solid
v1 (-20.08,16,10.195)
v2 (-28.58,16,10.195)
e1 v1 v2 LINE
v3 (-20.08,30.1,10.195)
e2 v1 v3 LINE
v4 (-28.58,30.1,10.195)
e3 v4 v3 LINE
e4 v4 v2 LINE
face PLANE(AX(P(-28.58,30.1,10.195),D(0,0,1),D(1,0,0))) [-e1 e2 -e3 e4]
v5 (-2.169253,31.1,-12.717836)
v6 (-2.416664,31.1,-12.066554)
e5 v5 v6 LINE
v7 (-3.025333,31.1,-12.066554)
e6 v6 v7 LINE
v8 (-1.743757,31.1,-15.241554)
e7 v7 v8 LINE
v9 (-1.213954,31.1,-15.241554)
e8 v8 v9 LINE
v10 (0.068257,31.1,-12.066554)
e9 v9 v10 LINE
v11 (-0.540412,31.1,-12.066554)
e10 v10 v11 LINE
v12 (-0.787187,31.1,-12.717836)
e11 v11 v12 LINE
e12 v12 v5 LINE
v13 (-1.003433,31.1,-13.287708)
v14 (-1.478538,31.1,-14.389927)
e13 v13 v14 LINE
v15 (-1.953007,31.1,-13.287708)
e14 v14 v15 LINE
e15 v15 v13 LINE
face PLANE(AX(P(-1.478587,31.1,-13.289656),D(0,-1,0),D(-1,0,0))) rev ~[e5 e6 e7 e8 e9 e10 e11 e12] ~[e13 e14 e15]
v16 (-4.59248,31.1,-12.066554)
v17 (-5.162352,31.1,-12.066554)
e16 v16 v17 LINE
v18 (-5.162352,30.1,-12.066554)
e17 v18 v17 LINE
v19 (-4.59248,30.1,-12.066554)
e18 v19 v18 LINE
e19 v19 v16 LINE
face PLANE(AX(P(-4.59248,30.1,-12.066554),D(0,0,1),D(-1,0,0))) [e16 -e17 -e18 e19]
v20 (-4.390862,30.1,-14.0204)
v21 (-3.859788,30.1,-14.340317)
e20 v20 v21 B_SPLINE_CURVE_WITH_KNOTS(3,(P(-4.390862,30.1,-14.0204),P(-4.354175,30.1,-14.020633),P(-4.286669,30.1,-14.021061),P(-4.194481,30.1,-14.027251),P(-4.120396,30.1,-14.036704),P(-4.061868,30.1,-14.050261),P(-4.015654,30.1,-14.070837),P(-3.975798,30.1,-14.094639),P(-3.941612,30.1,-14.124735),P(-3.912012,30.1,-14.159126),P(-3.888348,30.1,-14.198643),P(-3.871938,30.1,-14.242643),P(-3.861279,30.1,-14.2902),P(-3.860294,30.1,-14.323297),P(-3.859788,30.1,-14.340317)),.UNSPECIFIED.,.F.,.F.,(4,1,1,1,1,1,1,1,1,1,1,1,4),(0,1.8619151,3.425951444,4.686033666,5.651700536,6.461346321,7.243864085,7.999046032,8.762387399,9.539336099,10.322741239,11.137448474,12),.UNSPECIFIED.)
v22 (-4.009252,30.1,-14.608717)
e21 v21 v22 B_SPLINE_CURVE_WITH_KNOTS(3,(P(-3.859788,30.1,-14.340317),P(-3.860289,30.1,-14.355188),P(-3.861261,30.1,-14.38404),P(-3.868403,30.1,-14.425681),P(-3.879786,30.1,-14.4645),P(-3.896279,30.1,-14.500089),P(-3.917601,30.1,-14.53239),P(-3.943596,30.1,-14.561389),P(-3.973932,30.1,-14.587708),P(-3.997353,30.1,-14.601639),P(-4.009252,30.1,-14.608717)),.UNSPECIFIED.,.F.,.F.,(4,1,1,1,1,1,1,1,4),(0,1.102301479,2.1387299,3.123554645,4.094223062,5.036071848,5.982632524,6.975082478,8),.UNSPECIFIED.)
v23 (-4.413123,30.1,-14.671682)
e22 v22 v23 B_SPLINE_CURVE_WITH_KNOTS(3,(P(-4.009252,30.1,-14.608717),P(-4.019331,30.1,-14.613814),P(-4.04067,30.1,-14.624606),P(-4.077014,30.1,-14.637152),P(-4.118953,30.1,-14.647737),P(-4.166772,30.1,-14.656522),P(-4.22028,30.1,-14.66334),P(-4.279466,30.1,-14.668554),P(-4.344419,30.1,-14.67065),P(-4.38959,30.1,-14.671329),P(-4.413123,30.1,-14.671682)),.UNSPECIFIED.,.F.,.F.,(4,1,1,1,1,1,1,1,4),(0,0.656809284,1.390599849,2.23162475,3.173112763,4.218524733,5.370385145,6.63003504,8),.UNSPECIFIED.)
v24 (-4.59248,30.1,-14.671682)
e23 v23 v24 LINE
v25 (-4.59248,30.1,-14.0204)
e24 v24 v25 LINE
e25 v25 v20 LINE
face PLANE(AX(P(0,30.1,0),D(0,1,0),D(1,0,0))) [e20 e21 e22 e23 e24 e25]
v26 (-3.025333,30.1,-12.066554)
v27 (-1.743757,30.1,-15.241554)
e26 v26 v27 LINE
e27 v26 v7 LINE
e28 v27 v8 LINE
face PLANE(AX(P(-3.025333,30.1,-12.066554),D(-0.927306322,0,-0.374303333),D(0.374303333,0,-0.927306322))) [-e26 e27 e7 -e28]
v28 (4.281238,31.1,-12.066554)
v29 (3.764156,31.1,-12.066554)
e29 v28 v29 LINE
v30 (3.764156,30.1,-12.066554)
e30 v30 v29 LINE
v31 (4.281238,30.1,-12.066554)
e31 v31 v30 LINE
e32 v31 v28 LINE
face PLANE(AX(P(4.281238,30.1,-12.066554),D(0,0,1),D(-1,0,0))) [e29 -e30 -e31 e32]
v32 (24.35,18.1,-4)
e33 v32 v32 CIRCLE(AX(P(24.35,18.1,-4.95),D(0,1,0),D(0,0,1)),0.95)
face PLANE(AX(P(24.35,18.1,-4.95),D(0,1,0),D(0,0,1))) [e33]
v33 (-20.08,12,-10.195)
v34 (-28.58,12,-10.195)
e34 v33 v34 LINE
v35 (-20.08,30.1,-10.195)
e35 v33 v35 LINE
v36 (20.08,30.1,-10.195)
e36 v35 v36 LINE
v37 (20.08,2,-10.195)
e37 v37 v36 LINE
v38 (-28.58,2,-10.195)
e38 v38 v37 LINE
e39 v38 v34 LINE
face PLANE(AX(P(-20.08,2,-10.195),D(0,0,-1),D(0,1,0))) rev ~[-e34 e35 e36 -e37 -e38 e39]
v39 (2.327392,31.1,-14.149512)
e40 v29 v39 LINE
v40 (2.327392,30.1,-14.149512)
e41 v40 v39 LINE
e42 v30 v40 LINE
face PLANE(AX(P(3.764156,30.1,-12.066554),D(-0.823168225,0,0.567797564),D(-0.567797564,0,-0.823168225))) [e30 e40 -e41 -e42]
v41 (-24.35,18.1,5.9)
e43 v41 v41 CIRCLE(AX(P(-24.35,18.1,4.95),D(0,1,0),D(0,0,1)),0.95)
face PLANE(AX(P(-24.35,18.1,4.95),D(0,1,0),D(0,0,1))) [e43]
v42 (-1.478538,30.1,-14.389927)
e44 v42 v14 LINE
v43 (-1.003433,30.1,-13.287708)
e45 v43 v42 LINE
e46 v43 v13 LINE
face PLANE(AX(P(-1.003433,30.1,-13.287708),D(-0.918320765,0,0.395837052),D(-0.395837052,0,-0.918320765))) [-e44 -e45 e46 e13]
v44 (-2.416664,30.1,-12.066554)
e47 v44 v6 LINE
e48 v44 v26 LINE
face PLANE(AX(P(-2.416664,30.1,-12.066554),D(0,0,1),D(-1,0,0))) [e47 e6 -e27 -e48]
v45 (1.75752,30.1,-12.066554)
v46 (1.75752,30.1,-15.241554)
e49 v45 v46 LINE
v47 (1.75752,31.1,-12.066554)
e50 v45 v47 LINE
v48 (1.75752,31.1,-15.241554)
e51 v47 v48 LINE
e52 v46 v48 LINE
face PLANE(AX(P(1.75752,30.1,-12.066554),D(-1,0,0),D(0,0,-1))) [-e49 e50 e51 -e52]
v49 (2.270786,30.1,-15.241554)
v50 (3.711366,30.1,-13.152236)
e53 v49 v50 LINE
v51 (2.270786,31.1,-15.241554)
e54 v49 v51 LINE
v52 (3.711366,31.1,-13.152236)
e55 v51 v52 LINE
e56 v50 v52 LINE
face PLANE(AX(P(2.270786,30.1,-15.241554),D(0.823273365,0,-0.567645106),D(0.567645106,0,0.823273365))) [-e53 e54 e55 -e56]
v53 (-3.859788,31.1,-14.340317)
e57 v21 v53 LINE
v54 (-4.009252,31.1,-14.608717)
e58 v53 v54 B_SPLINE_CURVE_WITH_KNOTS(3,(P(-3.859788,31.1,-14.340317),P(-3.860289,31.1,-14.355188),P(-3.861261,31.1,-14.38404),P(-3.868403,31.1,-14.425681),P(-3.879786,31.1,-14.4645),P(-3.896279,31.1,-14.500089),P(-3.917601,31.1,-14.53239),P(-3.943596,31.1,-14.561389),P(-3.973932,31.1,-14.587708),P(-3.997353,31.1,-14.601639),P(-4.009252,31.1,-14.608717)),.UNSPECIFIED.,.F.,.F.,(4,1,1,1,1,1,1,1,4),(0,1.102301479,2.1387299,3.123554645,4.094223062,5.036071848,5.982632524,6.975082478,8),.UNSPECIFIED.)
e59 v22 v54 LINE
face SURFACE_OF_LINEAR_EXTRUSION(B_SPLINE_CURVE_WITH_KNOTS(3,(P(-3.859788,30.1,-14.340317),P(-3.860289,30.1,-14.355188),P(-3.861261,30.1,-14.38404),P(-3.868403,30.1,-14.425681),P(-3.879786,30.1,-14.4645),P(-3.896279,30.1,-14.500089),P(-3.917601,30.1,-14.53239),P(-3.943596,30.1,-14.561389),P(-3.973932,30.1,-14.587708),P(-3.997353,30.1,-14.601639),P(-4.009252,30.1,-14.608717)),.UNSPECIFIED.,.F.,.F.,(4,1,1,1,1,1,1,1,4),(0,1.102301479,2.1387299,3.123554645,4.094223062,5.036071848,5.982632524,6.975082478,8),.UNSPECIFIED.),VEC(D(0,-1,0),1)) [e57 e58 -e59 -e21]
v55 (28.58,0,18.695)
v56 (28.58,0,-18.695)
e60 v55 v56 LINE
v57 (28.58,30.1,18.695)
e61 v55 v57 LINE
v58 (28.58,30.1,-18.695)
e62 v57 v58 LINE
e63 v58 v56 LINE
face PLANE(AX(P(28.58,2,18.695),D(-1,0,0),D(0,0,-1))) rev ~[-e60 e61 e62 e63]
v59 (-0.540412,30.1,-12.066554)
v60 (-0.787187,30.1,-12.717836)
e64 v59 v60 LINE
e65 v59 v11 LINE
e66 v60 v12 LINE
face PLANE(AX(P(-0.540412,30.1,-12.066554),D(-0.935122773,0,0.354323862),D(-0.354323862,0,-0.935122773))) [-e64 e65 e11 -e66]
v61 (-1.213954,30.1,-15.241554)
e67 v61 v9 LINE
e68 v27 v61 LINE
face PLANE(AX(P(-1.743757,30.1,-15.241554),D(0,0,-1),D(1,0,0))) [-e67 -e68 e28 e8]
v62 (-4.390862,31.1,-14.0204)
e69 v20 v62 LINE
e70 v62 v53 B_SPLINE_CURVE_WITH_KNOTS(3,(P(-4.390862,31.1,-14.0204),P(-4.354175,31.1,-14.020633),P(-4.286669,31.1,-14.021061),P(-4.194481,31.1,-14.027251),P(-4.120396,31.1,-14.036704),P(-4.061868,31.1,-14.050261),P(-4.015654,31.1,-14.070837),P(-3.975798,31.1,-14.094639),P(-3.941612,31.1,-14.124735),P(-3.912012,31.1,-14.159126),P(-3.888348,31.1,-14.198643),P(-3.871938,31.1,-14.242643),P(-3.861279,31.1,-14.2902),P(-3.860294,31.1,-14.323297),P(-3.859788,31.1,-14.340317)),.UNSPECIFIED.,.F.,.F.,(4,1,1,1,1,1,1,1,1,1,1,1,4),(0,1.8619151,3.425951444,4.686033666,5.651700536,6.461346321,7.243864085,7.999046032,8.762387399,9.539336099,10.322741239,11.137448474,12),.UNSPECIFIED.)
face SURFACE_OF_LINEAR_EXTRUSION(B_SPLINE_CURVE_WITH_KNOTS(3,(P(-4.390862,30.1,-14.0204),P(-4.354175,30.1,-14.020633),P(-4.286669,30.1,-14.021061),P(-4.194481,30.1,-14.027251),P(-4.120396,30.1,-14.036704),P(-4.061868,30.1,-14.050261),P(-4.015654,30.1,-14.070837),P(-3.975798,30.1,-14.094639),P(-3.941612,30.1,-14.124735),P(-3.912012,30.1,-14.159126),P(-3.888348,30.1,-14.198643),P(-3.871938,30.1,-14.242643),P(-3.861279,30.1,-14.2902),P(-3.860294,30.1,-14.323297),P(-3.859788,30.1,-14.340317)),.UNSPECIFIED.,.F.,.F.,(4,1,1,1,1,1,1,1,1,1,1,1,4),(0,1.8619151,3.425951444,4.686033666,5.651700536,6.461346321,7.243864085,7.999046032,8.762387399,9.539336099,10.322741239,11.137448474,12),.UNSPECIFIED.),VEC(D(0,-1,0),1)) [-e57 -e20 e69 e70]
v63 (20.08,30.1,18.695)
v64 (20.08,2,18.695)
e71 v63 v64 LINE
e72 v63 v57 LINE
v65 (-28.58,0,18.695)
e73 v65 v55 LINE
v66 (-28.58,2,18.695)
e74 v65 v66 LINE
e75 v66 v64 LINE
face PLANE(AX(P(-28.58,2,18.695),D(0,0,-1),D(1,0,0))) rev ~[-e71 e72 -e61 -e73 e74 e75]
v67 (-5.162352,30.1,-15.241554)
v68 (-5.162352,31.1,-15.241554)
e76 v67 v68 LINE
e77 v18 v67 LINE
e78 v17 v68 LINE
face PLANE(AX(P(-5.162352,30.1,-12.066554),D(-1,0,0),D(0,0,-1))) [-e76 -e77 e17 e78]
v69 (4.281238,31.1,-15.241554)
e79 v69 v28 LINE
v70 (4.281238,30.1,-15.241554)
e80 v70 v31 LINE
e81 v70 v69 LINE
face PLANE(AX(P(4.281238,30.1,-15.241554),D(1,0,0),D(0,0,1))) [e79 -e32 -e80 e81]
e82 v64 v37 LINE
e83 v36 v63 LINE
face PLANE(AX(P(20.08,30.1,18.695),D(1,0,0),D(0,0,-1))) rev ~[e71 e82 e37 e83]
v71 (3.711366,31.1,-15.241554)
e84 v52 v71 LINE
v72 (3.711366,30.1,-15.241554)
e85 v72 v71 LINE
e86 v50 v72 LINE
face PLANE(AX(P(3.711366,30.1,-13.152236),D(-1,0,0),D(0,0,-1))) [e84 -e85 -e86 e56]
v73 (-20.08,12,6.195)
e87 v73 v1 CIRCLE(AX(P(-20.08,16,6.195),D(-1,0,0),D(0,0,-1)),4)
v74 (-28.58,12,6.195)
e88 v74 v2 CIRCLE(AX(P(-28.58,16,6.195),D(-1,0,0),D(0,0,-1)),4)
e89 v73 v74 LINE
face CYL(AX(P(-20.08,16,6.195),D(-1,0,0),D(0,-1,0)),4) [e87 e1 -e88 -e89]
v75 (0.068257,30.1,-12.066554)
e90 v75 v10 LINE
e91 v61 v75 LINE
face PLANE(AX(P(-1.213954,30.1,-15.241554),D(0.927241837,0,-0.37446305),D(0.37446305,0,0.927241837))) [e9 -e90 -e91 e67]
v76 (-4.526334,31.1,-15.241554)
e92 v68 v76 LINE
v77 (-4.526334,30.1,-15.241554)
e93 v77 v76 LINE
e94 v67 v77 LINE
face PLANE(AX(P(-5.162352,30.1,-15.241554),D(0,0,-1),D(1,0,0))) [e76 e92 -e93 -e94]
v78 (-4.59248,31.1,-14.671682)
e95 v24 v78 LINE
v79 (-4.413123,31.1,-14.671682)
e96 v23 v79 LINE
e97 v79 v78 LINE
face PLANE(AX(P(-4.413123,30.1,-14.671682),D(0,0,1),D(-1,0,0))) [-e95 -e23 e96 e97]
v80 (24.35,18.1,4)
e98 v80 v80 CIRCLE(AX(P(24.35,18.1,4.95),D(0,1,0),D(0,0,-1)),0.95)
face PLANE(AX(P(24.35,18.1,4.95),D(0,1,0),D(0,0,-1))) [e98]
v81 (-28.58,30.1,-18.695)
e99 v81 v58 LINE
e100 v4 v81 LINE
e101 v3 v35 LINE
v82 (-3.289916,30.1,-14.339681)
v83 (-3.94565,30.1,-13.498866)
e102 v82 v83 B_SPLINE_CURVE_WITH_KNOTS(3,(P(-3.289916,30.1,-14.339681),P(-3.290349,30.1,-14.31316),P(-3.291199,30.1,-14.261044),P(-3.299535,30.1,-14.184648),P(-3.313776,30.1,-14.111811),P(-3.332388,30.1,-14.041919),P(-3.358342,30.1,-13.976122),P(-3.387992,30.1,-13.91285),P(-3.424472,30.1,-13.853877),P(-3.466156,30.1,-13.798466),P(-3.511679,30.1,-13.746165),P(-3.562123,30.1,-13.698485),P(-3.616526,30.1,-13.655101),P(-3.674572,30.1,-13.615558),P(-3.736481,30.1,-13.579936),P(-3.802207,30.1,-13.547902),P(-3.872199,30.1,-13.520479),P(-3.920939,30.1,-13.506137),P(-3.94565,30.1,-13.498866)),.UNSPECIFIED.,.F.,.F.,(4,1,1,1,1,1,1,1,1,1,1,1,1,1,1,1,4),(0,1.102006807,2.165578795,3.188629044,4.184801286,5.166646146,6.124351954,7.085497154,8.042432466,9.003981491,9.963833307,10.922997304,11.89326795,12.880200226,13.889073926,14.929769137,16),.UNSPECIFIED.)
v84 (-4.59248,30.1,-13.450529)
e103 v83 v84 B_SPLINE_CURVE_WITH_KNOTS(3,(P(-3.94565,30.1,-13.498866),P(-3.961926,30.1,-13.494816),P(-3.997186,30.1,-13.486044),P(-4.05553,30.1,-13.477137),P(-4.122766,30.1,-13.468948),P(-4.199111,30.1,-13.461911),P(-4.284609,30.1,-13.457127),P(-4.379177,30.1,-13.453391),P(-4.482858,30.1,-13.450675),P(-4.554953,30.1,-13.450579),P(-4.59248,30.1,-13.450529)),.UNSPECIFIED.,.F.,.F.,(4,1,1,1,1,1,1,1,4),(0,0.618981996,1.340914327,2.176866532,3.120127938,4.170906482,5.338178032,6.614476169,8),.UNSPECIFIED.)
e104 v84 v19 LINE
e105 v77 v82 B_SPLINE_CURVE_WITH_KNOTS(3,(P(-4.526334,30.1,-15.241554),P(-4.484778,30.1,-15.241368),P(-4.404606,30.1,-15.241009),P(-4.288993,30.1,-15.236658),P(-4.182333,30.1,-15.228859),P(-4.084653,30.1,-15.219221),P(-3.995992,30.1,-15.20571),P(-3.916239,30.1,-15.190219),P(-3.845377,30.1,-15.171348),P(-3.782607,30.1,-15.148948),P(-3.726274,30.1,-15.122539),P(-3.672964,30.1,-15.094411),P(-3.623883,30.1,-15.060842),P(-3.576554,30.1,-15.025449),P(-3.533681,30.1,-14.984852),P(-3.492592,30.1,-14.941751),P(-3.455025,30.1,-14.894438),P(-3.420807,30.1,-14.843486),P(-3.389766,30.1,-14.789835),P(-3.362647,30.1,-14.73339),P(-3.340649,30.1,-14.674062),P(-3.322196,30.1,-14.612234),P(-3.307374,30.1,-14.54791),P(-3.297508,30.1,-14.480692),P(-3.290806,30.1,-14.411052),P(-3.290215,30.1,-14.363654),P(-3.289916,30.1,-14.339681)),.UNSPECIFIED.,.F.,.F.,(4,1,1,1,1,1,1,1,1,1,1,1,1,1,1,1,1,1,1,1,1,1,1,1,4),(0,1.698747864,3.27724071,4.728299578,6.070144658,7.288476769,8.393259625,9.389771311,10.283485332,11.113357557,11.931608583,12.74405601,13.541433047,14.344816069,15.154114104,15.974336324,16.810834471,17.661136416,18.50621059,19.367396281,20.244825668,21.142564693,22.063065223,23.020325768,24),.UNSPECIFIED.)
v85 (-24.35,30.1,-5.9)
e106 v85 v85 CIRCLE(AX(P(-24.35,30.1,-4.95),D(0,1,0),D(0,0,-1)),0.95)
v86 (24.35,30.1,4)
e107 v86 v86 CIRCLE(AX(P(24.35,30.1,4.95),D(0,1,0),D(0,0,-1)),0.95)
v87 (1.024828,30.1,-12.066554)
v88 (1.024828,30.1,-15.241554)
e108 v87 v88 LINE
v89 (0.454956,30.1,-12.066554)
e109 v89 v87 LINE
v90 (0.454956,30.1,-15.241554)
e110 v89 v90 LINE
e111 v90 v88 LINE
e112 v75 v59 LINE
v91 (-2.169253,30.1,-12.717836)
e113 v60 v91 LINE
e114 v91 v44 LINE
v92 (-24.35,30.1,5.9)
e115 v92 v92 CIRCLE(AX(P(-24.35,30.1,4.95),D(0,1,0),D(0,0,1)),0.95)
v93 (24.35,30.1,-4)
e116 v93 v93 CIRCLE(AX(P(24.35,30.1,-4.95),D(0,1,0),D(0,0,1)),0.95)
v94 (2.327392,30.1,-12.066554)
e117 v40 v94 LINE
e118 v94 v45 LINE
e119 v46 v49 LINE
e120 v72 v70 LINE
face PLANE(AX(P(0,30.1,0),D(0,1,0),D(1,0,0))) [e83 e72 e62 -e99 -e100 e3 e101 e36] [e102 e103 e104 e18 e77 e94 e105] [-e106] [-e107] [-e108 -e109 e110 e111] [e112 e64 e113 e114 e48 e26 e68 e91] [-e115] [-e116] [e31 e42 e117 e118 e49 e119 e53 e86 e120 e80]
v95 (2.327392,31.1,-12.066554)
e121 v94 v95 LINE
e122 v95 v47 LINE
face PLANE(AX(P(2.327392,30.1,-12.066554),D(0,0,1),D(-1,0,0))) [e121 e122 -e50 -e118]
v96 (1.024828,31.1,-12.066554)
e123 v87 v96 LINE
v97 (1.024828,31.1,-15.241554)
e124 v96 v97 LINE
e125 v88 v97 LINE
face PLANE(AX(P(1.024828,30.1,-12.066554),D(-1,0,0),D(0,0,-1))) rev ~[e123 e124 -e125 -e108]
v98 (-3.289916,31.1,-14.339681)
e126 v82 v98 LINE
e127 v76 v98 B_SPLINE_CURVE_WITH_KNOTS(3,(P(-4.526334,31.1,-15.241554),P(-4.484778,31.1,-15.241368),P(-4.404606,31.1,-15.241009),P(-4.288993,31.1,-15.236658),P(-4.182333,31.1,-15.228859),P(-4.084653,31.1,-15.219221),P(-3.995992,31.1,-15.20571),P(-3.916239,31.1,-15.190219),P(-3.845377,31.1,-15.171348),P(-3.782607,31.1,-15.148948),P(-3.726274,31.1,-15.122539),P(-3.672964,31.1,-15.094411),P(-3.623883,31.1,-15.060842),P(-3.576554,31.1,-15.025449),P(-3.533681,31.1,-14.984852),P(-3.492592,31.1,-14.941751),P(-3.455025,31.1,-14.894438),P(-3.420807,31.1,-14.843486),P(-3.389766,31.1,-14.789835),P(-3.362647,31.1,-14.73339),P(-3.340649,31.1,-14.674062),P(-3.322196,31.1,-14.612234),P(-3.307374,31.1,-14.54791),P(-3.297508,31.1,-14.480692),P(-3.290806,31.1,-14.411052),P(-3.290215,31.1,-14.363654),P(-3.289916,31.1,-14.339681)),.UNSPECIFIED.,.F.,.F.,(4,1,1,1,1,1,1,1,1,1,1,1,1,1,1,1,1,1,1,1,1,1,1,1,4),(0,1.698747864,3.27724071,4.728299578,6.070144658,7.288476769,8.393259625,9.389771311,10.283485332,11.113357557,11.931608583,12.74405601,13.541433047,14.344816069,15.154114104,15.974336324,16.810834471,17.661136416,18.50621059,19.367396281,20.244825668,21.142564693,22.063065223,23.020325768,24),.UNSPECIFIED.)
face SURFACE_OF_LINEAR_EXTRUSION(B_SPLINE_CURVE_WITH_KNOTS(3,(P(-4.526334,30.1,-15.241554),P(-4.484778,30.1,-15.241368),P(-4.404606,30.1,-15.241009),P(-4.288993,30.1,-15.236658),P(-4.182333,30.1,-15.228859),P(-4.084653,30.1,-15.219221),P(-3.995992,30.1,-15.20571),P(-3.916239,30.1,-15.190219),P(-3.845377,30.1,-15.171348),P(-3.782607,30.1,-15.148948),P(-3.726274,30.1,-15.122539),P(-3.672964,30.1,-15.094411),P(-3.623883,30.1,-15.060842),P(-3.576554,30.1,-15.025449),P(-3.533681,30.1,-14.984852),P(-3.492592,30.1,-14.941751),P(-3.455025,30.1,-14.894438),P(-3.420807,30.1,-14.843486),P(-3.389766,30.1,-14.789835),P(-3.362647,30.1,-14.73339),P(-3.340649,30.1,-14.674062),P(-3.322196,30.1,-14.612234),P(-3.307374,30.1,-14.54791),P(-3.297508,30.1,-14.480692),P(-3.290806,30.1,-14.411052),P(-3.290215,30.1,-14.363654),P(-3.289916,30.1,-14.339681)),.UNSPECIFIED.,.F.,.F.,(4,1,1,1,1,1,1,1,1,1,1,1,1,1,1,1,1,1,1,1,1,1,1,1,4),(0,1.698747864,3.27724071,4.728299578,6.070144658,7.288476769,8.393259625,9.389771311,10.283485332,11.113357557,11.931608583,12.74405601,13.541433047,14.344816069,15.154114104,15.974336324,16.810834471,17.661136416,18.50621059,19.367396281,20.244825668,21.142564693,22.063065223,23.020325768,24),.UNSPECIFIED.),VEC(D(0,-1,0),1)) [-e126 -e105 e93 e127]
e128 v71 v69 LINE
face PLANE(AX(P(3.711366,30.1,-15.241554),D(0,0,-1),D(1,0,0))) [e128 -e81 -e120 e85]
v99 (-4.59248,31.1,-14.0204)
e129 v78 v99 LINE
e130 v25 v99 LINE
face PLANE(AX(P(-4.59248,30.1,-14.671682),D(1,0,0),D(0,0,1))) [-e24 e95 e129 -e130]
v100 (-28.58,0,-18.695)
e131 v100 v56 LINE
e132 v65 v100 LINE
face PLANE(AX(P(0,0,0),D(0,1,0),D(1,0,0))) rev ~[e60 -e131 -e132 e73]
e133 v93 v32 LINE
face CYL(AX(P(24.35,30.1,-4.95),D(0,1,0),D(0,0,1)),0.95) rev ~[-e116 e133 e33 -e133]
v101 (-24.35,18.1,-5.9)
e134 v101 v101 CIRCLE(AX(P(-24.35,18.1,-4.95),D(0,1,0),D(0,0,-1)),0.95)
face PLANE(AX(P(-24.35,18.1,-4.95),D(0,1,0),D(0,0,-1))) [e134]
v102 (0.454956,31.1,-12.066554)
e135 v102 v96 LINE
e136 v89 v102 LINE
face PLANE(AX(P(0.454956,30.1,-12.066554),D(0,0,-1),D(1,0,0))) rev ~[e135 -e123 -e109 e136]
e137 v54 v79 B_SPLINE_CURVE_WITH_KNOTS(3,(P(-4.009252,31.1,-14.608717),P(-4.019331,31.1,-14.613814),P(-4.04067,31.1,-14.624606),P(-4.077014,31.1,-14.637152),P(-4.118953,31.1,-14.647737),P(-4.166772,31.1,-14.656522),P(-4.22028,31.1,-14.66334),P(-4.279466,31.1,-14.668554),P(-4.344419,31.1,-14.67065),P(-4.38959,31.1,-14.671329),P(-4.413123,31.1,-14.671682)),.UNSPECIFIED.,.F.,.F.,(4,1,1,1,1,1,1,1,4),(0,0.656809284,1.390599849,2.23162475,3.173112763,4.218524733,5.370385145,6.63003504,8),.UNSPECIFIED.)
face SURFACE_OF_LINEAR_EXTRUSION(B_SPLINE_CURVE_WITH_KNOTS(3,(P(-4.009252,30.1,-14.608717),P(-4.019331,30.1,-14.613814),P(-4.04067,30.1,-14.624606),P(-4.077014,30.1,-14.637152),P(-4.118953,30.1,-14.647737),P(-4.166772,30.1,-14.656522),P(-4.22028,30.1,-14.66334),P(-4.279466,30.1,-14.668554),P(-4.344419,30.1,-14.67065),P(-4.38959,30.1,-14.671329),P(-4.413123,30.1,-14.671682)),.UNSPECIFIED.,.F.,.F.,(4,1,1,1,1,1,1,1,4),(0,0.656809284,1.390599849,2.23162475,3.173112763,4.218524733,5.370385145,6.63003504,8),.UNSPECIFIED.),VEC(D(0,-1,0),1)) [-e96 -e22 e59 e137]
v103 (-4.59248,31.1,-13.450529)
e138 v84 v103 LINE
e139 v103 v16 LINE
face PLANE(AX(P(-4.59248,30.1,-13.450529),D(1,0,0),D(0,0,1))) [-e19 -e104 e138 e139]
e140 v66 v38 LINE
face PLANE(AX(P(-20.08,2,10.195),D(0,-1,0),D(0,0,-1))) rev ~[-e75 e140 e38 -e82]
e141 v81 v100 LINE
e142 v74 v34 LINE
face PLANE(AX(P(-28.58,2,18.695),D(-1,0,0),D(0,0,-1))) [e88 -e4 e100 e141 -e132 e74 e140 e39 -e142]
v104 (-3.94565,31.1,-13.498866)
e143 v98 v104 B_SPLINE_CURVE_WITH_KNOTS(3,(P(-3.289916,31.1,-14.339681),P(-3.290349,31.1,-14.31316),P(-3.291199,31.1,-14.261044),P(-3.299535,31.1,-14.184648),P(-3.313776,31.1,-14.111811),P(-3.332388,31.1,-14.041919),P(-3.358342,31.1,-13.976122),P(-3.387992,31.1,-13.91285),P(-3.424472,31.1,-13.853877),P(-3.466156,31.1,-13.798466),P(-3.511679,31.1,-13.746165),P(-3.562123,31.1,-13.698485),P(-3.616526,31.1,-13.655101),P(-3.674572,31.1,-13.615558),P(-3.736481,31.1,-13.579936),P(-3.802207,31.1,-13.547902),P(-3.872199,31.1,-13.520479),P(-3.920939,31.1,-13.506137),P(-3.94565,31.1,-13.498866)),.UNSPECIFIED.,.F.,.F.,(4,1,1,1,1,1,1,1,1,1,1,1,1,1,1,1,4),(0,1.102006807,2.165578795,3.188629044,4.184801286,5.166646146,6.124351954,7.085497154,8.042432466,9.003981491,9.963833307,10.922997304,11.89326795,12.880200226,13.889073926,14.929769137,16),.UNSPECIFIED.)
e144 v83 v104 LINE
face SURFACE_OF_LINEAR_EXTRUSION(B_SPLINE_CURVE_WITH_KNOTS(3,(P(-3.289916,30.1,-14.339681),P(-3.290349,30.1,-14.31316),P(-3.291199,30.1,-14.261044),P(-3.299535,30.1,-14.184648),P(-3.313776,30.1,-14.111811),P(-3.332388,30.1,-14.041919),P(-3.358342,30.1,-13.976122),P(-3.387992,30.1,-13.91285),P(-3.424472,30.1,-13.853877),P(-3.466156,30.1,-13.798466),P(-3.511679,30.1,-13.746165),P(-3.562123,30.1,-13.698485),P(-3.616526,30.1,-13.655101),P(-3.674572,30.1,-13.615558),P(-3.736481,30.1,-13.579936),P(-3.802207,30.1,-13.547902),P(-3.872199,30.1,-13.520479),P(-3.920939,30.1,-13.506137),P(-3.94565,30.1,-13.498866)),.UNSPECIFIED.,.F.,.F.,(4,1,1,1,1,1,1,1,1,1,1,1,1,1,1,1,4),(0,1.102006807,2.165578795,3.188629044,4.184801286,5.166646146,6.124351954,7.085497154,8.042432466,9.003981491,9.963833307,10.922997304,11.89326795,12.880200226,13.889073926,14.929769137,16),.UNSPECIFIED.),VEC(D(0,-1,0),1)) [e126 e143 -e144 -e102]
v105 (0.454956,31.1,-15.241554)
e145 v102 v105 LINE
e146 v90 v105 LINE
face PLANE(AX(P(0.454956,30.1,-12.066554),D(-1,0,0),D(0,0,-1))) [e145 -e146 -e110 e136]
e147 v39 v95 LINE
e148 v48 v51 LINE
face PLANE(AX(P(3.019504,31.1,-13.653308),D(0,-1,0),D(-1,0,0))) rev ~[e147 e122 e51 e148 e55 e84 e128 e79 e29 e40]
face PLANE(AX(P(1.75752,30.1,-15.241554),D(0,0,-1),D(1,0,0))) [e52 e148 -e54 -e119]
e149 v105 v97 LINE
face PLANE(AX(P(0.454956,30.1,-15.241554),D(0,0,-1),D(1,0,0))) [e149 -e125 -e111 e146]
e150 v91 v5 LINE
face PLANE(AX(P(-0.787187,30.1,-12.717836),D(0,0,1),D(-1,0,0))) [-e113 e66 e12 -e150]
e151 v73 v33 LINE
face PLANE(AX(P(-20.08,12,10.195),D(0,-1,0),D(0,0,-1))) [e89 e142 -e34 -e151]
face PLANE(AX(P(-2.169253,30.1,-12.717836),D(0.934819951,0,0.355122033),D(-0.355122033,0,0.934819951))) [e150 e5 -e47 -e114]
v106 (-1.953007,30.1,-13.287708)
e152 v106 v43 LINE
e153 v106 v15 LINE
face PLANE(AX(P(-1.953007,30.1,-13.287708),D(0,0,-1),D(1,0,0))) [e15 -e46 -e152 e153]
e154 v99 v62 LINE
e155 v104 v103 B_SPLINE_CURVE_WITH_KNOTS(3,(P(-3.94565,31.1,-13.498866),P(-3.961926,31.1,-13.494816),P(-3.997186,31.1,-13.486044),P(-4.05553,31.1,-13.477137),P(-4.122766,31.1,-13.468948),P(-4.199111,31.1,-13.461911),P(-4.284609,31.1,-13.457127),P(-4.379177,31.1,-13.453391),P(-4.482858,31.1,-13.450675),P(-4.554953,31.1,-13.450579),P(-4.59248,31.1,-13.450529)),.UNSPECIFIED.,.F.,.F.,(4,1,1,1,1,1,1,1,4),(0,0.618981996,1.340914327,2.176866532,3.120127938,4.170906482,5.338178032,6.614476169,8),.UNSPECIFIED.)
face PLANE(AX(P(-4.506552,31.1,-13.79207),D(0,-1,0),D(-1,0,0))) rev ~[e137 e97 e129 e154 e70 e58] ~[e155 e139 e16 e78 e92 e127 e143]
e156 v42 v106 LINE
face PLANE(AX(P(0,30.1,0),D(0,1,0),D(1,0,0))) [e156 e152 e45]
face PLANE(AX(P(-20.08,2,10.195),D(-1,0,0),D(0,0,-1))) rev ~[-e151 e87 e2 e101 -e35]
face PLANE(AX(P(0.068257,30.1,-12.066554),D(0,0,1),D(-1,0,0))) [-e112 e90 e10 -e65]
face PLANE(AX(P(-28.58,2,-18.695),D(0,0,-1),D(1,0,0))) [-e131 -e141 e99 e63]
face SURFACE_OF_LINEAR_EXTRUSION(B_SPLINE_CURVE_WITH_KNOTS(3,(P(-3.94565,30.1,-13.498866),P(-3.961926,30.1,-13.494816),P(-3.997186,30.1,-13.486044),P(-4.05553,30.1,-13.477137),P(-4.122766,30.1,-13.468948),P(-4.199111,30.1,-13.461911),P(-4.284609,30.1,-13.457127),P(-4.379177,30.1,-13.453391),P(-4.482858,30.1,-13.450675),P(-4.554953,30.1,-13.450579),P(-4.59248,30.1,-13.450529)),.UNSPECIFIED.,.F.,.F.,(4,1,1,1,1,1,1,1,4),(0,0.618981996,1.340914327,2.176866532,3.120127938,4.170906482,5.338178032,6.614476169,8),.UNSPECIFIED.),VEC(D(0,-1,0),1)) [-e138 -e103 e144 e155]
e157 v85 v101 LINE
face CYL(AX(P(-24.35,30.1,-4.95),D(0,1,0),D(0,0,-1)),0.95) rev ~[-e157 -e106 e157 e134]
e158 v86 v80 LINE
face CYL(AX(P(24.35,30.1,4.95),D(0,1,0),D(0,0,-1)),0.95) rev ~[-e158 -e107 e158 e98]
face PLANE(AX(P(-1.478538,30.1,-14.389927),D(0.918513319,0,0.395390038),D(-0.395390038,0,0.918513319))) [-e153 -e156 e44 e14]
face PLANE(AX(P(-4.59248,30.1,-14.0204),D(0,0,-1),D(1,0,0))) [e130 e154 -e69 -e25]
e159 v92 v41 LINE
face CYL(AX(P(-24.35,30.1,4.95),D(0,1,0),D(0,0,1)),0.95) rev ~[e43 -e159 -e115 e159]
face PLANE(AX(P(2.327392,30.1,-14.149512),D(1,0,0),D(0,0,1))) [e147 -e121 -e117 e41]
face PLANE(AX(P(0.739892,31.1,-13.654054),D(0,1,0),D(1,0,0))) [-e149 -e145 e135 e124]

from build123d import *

# Parameters (mm, degrees)
SKETCH1_W           = 57.16
SKETCH1_H           = 37.39
SKETCH1_W_2         = 40.16
SKETCH1_H_2         = 20.39
BOSS_EXTRUDE1_DEPTH = 2
SKETCH2_W           = 57.16
SKETCH2_H           = 37.39
SKETCH2_W_2         = 40.16
SKETCH2_H_2         = 20.39
BOSS_EXTRUDE2_DEPTH = 28.1
SKETCH3_W           = 48.66
SKETCH3_H           = 8.5
CUT_EXTRUDE1_DEPTH  = 28.1
CUT_EXTRUDE2_REACH  = 62.194
SKETCH5_W           = 20.39
SKETCH5_H           = 10
FILLET1_R           = 4
SKETCH6_R           = 0.95
CUT_EXTRUDE3_DEPTH  = 12
SKETCH7_W           = 0.569871794
SKETCH7_H           = 3.175
BOSS_EXTRUDE3_DEPTH = 1


with BuildPart() as part:
    # Sketch1 → Boss-Extrude1 (new body)
    # profile 1 of 2: a face of its own
    with BuildSketch(Plane(origin=(0, 0, 0), x_dir=(1, 0, 0), z_dir=(0, 1, 0))):
        Rectangle(SKETCH1_W, SKETCH1_H)
        Rectangle(SKETCH1_W_2, SKETCH1_H_2, mode=Mode.SUBTRACT)
    # profile 2 of 2: a face of its own
    with BuildSketch(Plane(origin=(0, 0, 0), x_dir=(1, 0, 0), z_dir=(0, 1, 0))):
        Rectangle(SKETCH1_W_2, SKETCH1_H_2)
    extrude(amount=BOSS_EXTRUDE1_DEPTH)

    # Sketch2 → Boss-Extrude2 (add)
    with BuildSketch(Plane(origin=(0, 2, 0), x_dir=(1, 0, 0), z_dir=(0, 1, 0))):
        Rectangle(SKETCH2_W, SKETCH2_H)
        Rectangle(SKETCH2_W_2, SKETCH2_H_2, mode=Mode.SUBTRACT)
    extrude(amount=BOSS_EXTRUDE2_DEPTH)

    # Sketch3 → Cut-Extrude1 (cut)
    with BuildSketch(Plane(origin=(0, 30.1, 0), x_dir=(1, 0, 0), z_dir=(0, 1, 0))):
        with Locations((-4.25, -14.445)):
            Rectangle(SKETCH3_W, SKETCH3_H)
    extrude(amount=-CUT_EXTRUDE1_DEPTH, mode=Mode.SUBTRACT)

    # Sketch5 → Cut-Extrude2 (cut, up to next)
    with BuildSketch(Plane(origin=(-20.08, 0, 0), x_dir=(0, 0, -1), z_dir=(1, 0, 0)), mode=Mode.PRIVATE) as cut_extrude2_sk1:
        with Locations((0, 7)):
            Rectangle(SKETCH5_W, SKETCH5_H)
    cut_extrude2_tool1 = extrude(cut_extrude2_sk1.sketch, amount=-CUT_EXTRUDE2_REACH, mode=Mode.PRIVATE) & part.part
    add(cut_extrude2_tool1.solids().sort_by_distance((-20.08, 7, 0))[0], mode=Mode.SUBTRACT)

    # Fillet1
    fillet1_edges = [part.edges().sort_by_distance(p)[0] for p in [
        (-24.33, 12, 10.195),
    ]]
    fillet(fillet1_edges, radius=FILLET1_R)

    # Sketch6 → Cut-Extrude3 (cut)
    with BuildSketch(Plane(origin=(0, 30.1, 0), x_dir=(1, 0, 0), z_dir=(0, 1, 0))):
        with Locations(Location((-24.35, -4.95, 0), (0, 0, 270))):
            Circle(SKETCH6_R)
        with Locations(Location((-24.35, 4.95, 0), (0, 0, 90))):
            Circle(SKETCH6_R)
        with Locations(Location((24.35, 4.95, 0), (0, 0, 270))):
            Circle(SKETCH6_R)
        with Locations(Location((24.35, -4.95, 0), (0, 0, 90))):
            Circle(SKETCH6_R)
    extrude(amount=-CUT_EXTRUDE3_DEPTH, mode=Mode.SUBTRACT)

    # Sketch7 → Boss-Extrude3 (add)
    # profile 1 of 4: a face of its own
    with BuildSketch(Plane(origin=(0, 30.1, 0), x_dir=(1, 0, 0), z_dir=(0, 1, 0))):
        with BuildLine():
            Line((-5.16235185, 15.241554144), (-4.526334221, 15.241554144))
            add(Edge.make_bspline(
                [(-4.526334221, 15.241554144), (-4.484777655, 15.241368128), (-4.404606327, 15.241009264), (-4.288992676, 15.236657561), (-4.182333422, 15.228859045), (-4.08465307, 15.219221313), (-3.995991784, 15.205709587), (-3.916238533, 15.190219451), (-3.845376767, 15.171347958), (-3.782607413, 15.148947756), (-3.726273946, 15.122538794), (-3.672964317, 15.094411364), (-3.623883329, 15.060842269), (-3.576553717, 15.025449442), (-3.533681396, 14.984851821), (-3.492591735, 14.941751237), (-3.455024992, 14.894438355), (-3.420807097, 14.843485885), (-3.389766194, 14.789835212), (-3.362646785, 14.733390423), (-3.340649039, 14.6740622), (-3.322195665, 14.612234331), (-3.307373735, 14.547909509), (-3.297507787, 14.48069213), (-3.290806339, 14.411051534), (-3.290215029, 14.363654099), (-3.289915952, 14.339681147)],
                knots=[0, 0, 0, 0, 1.698747864, 3.27724071, 4.728299578, 6.070144658, 7.288476769, 8.393259625, 9.389771311, 10.283485332, 11.113357557, 11.931608583, 12.74405601, 13.541433047, 14.344816069, 15.154114104, 15.974336324, 16.810834471, 17.661136416, 18.50621059, 19.367396281, 20.244825668, 21.142564693, 22.063065223, 23.020325768, 24, 24, 24, 24], degree=3))
            add(Edge.make_bspline(
                [(-3.289915952, 14.339681147), (-3.290348678, 14.313160441), (-3.291199038, 14.261043994), (-3.299535306, 14.184647677), (-3.313776285, 14.111810705), (-3.332388499, 14.041918832), (-3.358341909, 13.976121933), (-3.38799246, 13.912850075), (-3.424472043, 13.853877205), (-3.466155799, 13.798465646), (-3.511679216, 13.746164873), (-3.562123017, 13.698484974), (-3.616525724, 13.655100917), (-3.674572416, 13.615558031), (-3.73648102, 13.579936086), (-3.802206865, 13.547901518), (-3.872198765, 13.520478893), (-3.920939018, 13.506137082), (-3.945650127, 13.498865843)],
                knots=[0, 0, 0, 0, 1.102006807, 2.165578795, 3.188629044, 4.184801286, 5.166646146, 6.124351954, 7.085497154, 8.042432466, 9.003981491, 9.963833307, 10.922997304, 11.89326795, 12.880200226, 13.889073926, 14.929769137, 16, 16, 16, 16], degree=3))
            add(Edge.make_bspline(
                [(-3.945650127, 13.498865843), (-3.961926284, 13.494816308), (-3.997185683, 13.486043713), (-4.055530303, 13.477137327), (-4.122766351, 13.468948452), (-4.199111247, 13.461911106), (-4.284609004, 13.45712735), (-4.379176838, 13.45339145), (-4.482857606, 13.450675064), (-4.554953112, 13.450578675), (-4.592480055, 13.450528503)],
                knots=[0, 0, 0, 0, 0.618981996, 1.340914327, 2.176866532, 3.120127938, 4.170906482, 5.338178032, 6.614476169, 8, 8, 8, 8], degree=3))
            Line((-4.592480055, 13.450528503), (-4.592480055, 12.066554144))
            Line((-4.592480055, 12.066554144), (-5.16235185, 12.066554144))
            Line((-5.16235185, 12.066554144), (-5.16235185, 15.241554144))
        make_face()
        with BuildLine():
            Line((-4.592480055, 14.020400298), (-4.390862467, 14.020400298))
            add(Edge.make_bspline(
                [(-4.390862467, 14.020400298), (-4.354174963, 14.020632925), (-4.286669412, 14.021060962), (-4.194480668, 14.027250635), (-4.12039602, 14.036703515), (-4.061867772, 14.050261131), (-4.015654177, 14.070836608), (-3.975797844, 14.094638561), (-3.94161205, 14.124735477), (-3.912012184, 14.159126353), (-3.888347983, 14.198643193), (-3.871938093, 14.242642543), (-3.86127855, 14.290199928), (-3.860294043, 14.323296721), (-3.859787747, 14.340317165)],
                knots=[0, 0, 0, 0, 1.8619151, 3.425951444, 4.686033666, 5.651700536, 6.461346321, 7.243864085, 7.999046032, 8.762387399, 9.539336099, 10.322741239, 11.137448474, 12, 12, 12, 12], degree=3))
            add(Edge.make_bspline(
                [(-3.859787747, 14.340317165), (-3.860288835, 14.355187705), (-3.861261065, 14.384040128), (-3.868403335, 14.425681332), (-3.879786058, 14.464499524), (-3.896279186, 14.5000893), (-3.917600896, 14.532390187), (-3.943596375, 14.56138946), (-3.973932049, 14.587708164), (-3.997352964, 14.601639056), (-4.00925189, 14.608716604)],
                knots=[0, 0, 0, 0, 1.102301479, 2.1387299, 3.123554645, 4.094223062, 5.036071848, 5.982632524, 6.975082478, 8, 8, 8, 8], degree=3))
            add(Edge.make_bspline(
                [(-4.00925189, 14.608716604), (-4.019330967, 14.613813882), (-4.040670438, 14.624605865), (-4.077013627, 14.637152333), (-4.118953111, 14.647736662), (-4.166772031, 14.656521552), (-4.220279622, 14.66333954), (-4.279466337, 14.668553594), (-4.344419277, 14.670650369), (-4.38959016, 14.671328868), (-4.413123084, 14.671682349)],
                knots=[0, 0, 0, 0, 0.656809284, 1.390599849, 2.23162475, 3.173112763, 4.218524733, 5.370385145, 6.63003504, 8, 8, 8, 8], degree=3))
            Line((-4.413123084, 14.671682349), (-4.592480055, 14.671682349))
            Line((-4.592480055, 14.671682349), (-4.592480055, 14.020400298))
        make_face(mode=Mode.SUBTRACT)
    # profile 2 of 4: a face of its own
    with BuildSketch(Plane(origin=(0, 30.1, 0), x_dir=(1, 0, 0), z_dir=(0, 1, 0))):
        Polygon((-1.743757098, 15.241554144), (-1.213954414, 15.241554144), (0.068257125, 12.066554144), (-0.540411746, 12.066554144), (-0.787186585, 12.717836195), (-2.169252891, 12.717836195), (-2.416663749, 12.066554144), (-3.025332619, 12.066554144), align=None)
        Polygon((-1.478537747, 14.38992654), (-1.953006898, 13.28770799), (-1.003432579, 13.28770799), align=None, mode=Mode.SUBTRACT)
    # profile 3 of 4: a face of its own
    with BuildSketch(Plane(origin=(0, 30.1, 0), x_dir=(1, 0, 0), z_dir=(0, 1, 0))):
        with Locations((0.73989174, 13.654054144)):
            Rectangle(SKETCH7_W, SKETCH7_H)
    # profile 4 of 4: a face of its own
    with BuildSketch(Plane(origin=(0, 30.1, 0), x_dir=(1, 0, 0), z_dir=(0, 1, 0))):
        Polygon((1.757519945, 15.241554144), (2.270786171, 15.241554144), (3.711366099, 13.152236235), (3.711366099, 15.241554144), (4.281237894, 15.241554144), (4.281237894, 12.066554144), (3.764155562, 12.066554144), (2.32739174, 14.149511876), (2.32739174, 12.066554144), (1.757519945, 12.066554144), align=None)
    extrude(amount=BOSS_EXTRUDE3_DEPTH)


solid = part.part
